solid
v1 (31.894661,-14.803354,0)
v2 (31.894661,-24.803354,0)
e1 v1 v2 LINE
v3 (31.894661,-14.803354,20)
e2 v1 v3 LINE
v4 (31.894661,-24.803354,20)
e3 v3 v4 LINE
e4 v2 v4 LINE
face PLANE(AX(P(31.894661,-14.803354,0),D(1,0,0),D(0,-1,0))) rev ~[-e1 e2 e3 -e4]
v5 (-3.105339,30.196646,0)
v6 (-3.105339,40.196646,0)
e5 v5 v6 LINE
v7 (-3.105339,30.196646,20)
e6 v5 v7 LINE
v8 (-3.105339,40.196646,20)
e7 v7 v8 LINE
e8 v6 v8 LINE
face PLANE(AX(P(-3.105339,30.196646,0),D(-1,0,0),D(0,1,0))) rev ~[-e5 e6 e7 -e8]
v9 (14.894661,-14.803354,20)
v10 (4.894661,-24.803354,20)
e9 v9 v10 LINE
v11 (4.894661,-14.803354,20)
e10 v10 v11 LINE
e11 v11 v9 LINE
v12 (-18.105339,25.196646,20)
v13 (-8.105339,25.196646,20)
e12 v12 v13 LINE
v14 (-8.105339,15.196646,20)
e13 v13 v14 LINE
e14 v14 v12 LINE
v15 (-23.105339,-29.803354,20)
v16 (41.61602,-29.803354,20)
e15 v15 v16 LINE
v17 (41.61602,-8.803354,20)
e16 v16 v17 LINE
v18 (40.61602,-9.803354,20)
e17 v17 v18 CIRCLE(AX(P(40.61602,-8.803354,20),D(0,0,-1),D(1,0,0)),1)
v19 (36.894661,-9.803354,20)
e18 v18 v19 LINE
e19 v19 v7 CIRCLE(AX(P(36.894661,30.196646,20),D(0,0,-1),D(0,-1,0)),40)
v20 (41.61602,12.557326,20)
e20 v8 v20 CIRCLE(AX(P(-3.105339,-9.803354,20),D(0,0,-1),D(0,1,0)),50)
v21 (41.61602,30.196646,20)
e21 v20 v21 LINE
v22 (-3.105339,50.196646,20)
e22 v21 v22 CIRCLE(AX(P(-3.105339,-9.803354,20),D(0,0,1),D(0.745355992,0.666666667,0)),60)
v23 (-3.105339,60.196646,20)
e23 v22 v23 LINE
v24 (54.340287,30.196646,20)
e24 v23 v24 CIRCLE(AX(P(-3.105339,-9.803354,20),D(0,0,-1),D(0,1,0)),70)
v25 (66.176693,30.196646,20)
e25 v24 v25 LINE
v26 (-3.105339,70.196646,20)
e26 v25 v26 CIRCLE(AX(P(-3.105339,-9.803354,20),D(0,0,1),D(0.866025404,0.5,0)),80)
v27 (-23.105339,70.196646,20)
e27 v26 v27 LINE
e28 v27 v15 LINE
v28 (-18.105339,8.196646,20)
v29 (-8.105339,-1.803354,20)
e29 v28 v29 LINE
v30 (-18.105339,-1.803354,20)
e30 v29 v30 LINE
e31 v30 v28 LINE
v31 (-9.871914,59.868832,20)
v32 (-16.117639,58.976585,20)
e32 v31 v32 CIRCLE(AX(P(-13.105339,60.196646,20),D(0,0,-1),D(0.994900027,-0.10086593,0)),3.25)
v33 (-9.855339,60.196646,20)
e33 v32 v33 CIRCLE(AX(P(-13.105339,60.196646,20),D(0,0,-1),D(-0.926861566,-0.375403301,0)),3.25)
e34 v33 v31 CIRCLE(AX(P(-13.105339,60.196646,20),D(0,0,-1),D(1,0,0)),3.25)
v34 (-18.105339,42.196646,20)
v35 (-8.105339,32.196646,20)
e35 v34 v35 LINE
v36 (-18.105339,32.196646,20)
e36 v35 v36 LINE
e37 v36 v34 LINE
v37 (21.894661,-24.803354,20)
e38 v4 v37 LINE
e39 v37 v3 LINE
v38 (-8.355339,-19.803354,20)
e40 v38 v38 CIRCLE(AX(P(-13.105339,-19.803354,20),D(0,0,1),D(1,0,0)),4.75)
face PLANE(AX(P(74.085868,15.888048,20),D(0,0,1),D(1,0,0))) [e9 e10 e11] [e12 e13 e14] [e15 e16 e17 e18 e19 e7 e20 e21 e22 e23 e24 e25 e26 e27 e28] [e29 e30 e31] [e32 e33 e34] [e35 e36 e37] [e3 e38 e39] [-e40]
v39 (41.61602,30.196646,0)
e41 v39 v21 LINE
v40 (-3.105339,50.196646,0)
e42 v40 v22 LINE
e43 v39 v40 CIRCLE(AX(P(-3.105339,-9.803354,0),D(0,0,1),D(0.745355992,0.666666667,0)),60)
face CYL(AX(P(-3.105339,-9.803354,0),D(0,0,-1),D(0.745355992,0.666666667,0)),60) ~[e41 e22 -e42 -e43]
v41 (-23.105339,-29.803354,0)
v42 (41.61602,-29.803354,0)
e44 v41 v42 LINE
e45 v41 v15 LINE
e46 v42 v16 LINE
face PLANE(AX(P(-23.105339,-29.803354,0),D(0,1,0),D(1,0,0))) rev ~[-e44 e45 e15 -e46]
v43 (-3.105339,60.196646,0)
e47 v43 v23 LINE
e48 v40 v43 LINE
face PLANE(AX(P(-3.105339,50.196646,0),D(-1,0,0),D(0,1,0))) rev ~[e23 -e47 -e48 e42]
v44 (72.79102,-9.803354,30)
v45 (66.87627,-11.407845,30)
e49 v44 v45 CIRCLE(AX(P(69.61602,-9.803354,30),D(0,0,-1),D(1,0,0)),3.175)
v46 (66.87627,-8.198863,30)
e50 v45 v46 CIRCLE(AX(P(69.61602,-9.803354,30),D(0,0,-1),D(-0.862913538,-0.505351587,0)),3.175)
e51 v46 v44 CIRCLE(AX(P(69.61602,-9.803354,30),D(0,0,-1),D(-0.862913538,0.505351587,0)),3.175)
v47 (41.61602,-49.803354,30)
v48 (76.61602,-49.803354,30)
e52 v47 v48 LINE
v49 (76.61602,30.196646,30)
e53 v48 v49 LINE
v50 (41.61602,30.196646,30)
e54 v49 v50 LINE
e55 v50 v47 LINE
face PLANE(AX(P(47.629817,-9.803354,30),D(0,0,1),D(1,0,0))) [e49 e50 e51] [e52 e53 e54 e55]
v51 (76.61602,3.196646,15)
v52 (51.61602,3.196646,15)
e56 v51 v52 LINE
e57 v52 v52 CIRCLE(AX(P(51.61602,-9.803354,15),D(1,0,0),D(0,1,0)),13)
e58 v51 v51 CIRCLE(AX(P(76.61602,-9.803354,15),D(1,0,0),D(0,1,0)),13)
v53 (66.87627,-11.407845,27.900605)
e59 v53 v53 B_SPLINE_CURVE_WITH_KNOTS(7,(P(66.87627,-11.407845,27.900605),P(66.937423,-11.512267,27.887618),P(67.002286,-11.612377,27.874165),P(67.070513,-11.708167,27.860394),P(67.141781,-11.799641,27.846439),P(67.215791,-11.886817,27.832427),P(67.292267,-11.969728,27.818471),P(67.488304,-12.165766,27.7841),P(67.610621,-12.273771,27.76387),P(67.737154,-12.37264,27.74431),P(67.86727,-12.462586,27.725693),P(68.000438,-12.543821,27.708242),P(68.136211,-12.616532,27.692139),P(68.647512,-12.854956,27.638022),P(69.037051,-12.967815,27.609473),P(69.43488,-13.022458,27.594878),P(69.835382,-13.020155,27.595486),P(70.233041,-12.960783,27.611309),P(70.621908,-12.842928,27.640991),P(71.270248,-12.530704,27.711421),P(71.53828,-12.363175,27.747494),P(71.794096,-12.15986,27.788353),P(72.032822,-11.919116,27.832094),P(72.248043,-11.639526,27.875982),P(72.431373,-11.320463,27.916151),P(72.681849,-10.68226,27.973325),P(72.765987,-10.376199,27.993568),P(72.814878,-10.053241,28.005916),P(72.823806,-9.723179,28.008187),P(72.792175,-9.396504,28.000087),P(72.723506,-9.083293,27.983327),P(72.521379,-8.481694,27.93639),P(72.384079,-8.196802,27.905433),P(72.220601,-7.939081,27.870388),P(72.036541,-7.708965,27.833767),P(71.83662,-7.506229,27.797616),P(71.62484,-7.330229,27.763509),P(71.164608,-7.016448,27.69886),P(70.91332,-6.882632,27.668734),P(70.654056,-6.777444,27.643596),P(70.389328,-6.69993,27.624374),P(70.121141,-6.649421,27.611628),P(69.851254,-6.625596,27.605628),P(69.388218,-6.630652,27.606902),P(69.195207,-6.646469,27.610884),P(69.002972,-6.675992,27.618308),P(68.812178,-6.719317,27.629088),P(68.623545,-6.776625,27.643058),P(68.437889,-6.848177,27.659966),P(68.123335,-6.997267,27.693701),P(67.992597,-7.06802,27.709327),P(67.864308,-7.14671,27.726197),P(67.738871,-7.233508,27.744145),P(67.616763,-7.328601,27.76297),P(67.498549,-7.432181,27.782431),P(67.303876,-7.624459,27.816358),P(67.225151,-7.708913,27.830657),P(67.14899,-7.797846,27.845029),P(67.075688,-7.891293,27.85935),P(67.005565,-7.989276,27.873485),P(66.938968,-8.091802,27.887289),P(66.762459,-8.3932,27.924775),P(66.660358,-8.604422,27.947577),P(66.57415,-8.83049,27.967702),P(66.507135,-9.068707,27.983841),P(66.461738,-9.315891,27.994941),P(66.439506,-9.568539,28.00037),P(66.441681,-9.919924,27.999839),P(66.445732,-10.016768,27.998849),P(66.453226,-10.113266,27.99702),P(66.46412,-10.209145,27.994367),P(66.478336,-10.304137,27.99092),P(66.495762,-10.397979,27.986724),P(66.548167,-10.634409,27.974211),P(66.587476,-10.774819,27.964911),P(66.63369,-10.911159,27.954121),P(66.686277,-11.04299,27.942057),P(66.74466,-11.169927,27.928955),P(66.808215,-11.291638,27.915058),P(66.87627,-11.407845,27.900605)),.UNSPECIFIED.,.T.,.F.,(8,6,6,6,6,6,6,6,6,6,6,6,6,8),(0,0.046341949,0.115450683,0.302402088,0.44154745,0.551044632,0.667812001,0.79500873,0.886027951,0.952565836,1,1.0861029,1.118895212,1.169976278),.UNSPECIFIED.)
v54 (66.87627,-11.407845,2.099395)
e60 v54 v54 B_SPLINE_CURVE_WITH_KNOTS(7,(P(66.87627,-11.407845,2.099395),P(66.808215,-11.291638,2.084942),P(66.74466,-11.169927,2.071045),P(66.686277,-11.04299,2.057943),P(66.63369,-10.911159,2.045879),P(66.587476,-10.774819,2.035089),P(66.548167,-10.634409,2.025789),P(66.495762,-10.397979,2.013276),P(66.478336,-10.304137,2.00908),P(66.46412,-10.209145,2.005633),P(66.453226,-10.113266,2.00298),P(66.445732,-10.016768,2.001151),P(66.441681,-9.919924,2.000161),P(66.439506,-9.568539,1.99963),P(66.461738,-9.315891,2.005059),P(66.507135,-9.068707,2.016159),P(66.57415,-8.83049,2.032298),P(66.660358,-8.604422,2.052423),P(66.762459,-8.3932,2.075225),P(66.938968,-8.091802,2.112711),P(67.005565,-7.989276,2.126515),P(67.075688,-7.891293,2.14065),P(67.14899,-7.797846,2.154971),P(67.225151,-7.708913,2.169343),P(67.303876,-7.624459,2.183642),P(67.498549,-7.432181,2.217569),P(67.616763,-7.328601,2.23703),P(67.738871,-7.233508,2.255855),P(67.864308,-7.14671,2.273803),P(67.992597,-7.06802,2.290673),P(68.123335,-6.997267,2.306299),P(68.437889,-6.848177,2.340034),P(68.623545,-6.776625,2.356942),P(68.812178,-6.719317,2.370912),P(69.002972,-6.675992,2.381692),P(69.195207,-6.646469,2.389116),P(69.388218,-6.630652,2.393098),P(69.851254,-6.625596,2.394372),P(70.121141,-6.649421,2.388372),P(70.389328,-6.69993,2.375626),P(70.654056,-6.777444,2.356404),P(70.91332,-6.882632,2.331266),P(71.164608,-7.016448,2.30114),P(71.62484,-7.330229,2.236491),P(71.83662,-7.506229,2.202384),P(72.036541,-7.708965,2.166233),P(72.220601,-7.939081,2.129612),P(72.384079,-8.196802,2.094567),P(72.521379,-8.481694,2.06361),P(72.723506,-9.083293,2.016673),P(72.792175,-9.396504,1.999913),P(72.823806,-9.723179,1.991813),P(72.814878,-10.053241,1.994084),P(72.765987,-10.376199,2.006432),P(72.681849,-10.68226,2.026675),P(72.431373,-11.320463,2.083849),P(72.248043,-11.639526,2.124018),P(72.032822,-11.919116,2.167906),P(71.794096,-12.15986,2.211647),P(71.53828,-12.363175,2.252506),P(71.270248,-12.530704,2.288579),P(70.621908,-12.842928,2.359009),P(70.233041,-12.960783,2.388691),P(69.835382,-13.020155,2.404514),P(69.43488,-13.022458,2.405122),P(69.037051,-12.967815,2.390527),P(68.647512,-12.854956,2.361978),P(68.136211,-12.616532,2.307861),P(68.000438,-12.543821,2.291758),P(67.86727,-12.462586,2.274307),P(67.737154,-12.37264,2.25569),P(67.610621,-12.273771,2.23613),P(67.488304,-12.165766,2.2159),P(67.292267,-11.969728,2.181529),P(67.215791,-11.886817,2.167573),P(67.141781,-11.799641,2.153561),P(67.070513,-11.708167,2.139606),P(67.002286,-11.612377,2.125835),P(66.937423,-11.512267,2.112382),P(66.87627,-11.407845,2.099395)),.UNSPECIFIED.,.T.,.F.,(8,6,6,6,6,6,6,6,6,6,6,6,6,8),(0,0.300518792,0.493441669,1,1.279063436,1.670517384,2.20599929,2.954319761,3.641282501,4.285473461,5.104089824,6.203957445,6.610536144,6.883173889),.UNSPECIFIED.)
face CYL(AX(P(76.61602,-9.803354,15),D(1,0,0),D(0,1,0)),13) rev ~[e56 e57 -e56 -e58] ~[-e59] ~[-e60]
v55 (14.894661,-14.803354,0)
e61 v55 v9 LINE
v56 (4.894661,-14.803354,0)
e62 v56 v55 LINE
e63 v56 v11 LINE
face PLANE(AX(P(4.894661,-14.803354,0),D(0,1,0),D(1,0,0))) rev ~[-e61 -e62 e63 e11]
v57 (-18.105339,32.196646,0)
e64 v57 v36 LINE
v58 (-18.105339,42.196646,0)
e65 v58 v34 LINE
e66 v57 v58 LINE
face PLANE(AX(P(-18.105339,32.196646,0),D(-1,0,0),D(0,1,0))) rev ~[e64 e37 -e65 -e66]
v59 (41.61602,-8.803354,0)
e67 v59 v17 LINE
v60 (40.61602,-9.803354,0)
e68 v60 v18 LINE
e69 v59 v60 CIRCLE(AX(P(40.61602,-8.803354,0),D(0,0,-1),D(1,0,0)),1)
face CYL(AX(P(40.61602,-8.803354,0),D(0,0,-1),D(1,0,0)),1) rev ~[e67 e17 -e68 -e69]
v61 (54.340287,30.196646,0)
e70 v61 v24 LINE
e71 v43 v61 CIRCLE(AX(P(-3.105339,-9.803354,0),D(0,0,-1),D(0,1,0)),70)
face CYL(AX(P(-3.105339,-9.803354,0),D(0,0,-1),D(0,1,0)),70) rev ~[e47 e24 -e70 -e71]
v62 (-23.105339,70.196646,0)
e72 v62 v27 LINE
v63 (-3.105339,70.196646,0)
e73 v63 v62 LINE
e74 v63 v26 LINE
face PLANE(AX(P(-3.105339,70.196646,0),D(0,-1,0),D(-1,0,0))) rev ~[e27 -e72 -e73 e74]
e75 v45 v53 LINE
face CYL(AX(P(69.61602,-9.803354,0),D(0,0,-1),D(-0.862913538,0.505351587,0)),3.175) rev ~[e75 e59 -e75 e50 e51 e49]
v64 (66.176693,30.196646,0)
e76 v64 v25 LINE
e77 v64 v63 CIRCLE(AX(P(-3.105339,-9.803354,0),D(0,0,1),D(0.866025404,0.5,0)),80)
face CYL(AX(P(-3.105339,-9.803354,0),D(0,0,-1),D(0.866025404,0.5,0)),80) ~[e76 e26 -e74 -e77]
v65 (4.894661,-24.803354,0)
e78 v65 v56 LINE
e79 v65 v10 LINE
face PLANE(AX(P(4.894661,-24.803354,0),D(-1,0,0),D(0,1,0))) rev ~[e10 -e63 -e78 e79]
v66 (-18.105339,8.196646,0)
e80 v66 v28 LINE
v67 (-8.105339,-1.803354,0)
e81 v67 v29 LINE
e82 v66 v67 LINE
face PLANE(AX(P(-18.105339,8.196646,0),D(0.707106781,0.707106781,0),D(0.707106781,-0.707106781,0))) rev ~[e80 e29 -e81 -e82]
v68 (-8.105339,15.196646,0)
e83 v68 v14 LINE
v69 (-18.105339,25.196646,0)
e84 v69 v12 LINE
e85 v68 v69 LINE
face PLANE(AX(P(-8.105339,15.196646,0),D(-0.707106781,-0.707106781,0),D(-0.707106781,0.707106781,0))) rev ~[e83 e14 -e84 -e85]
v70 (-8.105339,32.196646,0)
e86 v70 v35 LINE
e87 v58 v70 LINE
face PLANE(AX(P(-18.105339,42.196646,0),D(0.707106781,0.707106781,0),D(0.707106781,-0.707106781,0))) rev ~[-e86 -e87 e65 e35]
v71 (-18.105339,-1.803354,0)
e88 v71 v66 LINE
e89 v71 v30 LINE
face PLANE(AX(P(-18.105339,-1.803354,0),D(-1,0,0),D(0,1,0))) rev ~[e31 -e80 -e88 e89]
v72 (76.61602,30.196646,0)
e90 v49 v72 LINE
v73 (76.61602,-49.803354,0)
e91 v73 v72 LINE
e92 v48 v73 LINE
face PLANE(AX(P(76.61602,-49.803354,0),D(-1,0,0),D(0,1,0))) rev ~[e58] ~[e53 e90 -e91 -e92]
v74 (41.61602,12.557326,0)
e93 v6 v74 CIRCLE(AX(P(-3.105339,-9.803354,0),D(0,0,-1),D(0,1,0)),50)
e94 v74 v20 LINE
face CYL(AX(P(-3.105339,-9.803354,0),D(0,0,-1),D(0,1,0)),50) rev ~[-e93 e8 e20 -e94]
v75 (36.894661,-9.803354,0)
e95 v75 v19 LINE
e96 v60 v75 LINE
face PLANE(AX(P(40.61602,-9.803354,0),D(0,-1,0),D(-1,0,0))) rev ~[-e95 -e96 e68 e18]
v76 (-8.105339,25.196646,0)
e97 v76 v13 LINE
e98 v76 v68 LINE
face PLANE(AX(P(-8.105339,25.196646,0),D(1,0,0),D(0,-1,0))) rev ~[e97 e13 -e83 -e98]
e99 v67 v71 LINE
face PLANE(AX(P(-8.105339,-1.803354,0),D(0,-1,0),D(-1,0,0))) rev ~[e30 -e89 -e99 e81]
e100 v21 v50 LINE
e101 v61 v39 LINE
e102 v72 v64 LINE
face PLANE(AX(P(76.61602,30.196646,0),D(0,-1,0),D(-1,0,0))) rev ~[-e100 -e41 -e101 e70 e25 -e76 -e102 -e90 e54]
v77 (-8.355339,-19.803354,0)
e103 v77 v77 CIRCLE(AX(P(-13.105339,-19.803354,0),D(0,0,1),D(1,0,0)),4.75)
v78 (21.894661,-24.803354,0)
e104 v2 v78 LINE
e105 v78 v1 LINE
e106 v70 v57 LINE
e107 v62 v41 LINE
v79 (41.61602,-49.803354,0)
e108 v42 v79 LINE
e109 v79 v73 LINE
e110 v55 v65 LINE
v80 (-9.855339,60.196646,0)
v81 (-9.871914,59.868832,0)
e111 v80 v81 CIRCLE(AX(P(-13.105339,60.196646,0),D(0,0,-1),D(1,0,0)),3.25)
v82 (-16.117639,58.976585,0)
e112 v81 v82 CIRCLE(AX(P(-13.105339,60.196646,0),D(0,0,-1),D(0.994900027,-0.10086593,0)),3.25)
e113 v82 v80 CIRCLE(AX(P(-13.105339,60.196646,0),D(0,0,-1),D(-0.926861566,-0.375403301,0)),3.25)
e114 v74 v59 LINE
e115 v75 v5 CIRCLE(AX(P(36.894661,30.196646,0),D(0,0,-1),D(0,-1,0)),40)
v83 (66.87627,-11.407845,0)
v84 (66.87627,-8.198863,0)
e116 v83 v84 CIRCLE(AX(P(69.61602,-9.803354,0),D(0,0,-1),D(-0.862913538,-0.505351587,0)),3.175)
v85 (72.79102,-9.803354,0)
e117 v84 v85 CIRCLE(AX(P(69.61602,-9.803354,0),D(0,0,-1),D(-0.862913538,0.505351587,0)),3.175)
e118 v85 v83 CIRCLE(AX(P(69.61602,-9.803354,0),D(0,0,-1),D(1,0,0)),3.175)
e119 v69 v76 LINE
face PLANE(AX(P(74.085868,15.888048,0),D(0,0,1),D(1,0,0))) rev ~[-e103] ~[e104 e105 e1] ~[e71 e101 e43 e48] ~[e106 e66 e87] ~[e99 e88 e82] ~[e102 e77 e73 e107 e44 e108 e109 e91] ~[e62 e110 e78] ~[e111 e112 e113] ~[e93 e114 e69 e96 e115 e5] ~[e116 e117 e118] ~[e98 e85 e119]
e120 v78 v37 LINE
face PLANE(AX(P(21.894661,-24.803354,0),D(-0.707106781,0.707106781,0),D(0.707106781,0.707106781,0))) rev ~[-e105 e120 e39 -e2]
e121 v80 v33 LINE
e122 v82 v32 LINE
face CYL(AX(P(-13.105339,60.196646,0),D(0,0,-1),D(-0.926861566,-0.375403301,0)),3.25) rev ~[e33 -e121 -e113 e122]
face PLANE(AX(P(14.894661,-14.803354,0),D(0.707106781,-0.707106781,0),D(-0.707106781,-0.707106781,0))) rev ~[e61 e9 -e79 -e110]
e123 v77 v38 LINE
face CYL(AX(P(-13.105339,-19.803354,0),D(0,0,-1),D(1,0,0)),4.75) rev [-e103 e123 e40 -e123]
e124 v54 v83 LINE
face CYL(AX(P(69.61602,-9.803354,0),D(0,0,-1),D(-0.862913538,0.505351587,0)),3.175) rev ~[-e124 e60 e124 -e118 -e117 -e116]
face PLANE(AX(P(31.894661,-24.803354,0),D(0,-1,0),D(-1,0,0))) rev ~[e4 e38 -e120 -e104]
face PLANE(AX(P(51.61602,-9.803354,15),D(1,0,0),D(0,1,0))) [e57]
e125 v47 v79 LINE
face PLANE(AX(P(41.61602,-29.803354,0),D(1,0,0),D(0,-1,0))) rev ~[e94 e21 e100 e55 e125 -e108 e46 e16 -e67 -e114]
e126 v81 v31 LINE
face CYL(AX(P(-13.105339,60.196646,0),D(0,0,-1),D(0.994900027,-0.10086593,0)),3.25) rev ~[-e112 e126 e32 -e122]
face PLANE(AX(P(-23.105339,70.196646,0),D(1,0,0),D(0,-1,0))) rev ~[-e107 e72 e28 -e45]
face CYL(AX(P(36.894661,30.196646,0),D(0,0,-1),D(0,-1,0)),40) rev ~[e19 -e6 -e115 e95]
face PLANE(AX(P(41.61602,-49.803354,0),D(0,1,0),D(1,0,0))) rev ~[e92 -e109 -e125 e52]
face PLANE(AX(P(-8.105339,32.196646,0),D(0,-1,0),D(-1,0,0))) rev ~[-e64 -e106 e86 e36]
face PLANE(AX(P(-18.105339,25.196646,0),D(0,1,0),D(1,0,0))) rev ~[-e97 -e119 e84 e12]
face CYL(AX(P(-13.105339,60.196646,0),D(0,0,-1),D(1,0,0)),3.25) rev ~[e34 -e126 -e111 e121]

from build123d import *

# Parameters (mm, degrees)
F0_R     = 4.75
F1_DEPTH = 20
F2_DEPTH = 30
F3_R     = 13
F4_DEPTH = 25


with BuildPart() as f1:
    # F0 (on Top) → F1 (new body)
    with BuildSketch(Plane.XY):
        with BuildLine():
            Line((76.6160202911, 30.1966461055), (66.1766930438, 30.1966461055))
            ThreePointArc((66.1766930438, 30.1966461055), (73.2373422542, 14.1088810364), (76.6160202911, -3.132159736))
            Line((76.6160202911, -3.132159736), (76.6160202911, 30.1966461055))
        make_face()
        with BuildLine():
            ThreePointArc((76.6160202911, -3.132159736), (73.2373422542, 14.1088810364), (66.1766930438, 30.1966461055))
            Line((66.1766930438, 30.1966461055), (54.3402872065, 30.1966461055))
            ThreePointArc((54.3402872065, 30.1966461055), (63.4377209443, 11.9226935784), (66.8762698088, -8.198862606))
            ThreePointArc((66.8762698088, -8.198862606), (70.4472594921, -6.7390976404), (72.7910202911, -9.8033538945))
            ThreePointArc((72.7910202911, -9.8033538945), (70.4472594921, -12.8676101486), (66.8762698088, -11.407845183))
            ThreePointArc((66.8762698088, -11.407845183), (63.4377209443, -31.5294013674), (54.3402872065, -49.8033538945))
            Line((54.3402872065, -49.8033538945), (66.1766930438, -49.8033538945))
            ThreePointArc((66.1766930438, -49.8033538945), (73.2373422542, -33.7155888254), (76.6160202911, -16.474548053))
            Line((76.6160202911, -16.474548053), (76.6160202911, -3.132159736))
        make_face()
        with BuildLine():
            ThreePointArc((66.8762698088, -8.198862606), (63.4377209443, 11.9226935784), (54.3402872065, 30.1966461055))
            Line((54.3402872065, 30.1966461055), (41.6160202911, 30.1966461055))
            ThreePointArc((41.6160202911, 30.1966461055), (52.9450022789, 11.6059714919), (56.8946607411, -9.8033538945))
            ThreePointArc((56.8946607411, -9.8033538945), (52.9450022789, -31.2126792809), (41.6160202911, -49.8033538945))
            Line((41.6160202911, -49.8033538945), (54.3402872065, -49.8033538945))
            ThreePointArc((54.3402872065, -49.8033538945), (63.4377209443, -31.5294013674), (66.8762698088, -11.407845183))
            ThreePointArc((66.8762698088, -11.407845183), (66.4410202911, -9.8033538945), (66.8762698088, -8.198862606))
        make_face()
        with BuildLine():
            ThreePointArc((76.6160202911, -16.474548053), (73.2373422542, -33.7155888254), (66.1766930438, -49.8033538945))
            Line((66.1766930438, -49.8033538945), (76.6160202911, -49.8033538945))
            Line((76.6160202911, -49.8033538945), (76.6160202911, -16.474548053))
        make_face()
        with BuildLine():
            ThreePointArc((56.8946607411, -9.8033538945), (52.9450022789, 11.6059714919), (41.6160202911, 30.1966461055))
            Line((41.6160202911, 30.1966461055), (41.6160202911, 12.5573258805))
            ThreePointArc((41.6160202911, 12.5573258805), (45.5571102145, 1.6842921329), (46.8946607411, -9.8033538945))
            ThreePointArc((46.8946607411, -9.8033538945), (45.5571102145, -21.2909999219), (41.6160202911, -32.1640336695))
            Line((41.6160202911, -32.1640336695), (41.6160202911, -49.8033538945))
            ThreePointArc((41.6160202911, -49.8033538945), (52.9450022789, -31.2126792809), (56.8946607411, -9.8033538945))
        make_face()
        with BuildLine():
            ThreePointArc((46.8946607411, -9.8033538945), (45.5571102145, 1.6842921329), (41.6160202911, 12.5573258805))
            Line((41.6160202911, 12.5573258805), (41.6160202911, -8.8033538945))
            Line((41.6160202911, -8.8033538945), (41.6160202911, -29.8033538945))
            Line((41.6160202911, -29.8033538945), (41.6160202911, -30.8033538945))
            Line((41.6160202911, -30.8033538945), (41.6160202911, -32.1640336695))
            ThreePointArc((41.6160202911, -32.1640336695), (45.5571102145, -21.2909999219), (46.8946607411, -9.8033538945))
        make_face()
        with BuildLine():
            Line((-3.1053392589, 30.1966461055), (-3.1053392589, 40.1966461055))
            ThreePointArc((-3.1053392589, 40.1966461055), (-8.9600600243, 39.8526854639), (-14.7342290493, 38.8255358959))
            Line((-14.7342290493, 38.8255358959), (-8.1053392589, 32.1966461055))
            Line((-8.1053392589, 32.1966461055), (-18.1053392589, 32.1966461055))
            Line((-18.1053392589, 32.1966461055), (-18.1053392589, 37.8936061763))
            ThreePointArc((-18.1053392589, 37.8936061763), (-20.630331421, 37.0247856128), (-23.1053392589, 36.0224030551))
            Line((-23.1053392589, 36.0224030551), (-23.1053392589, -29.8033538945))
            Line((-23.1053392589, -29.8033538945), (-3.1053392589, -29.8033538945))
            Line((-3.1053392589, -29.8033538945), (40.6160202911, -29.8033538945))
            Line((40.6160202911, -29.8033538945), (41.6160202911, -29.8033538945))
            Line((41.6160202911, -29.8033538945), (41.6160202911, -8.8033538945))
            ThreePointArc((41.6160202911, -8.8033538945), (41.3231270723, -9.5104606757), (40.6160202911, -9.8033538945))
            Line((40.6160202911, -9.8033538945), (36.8946607411, -9.8033538945))
            ThreePointArc((36.8946607411, -9.8033538945), (8.6103894936, 1.912374858), (-3.1053392589, 30.1966461055))
        make_face()
        with Locations((-13.1053392589, -19.8033538945)):
            Circle(F0_R, mode=Mode.SUBTRACT)
        Polygon((4.8946607411, -14.8033538945), (14.8946607411, -14.8033538945), (4.8946607411, -24.8033538945), align=None, mode=Mode.SUBTRACT)
        Polygon((31.8946607411, -24.8033538945), (21.8946607411, -24.8033538945), (31.8946607411, -14.8033538945), align=None, mode=Mode.SUBTRACT)
        Polygon((-18.1053392589, -1.8033538945), (-18.1053392589, 8.1966461055), (-8.1053392589, -1.8033538945), align=None, mode=Mode.SUBTRACT)
        Polygon((-8.1053392589, 25.1966461055), (-8.1053392589, 15.1966461055), (-18.1053392589, 25.1966461055), align=None, mode=Mode.SUBTRACT)
        with BuildLine():
            Line((-3.1053392589, 40.1966461055), (-3.1053392589, 50.1966461055))
            ThreePointArc((-3.1053392589, 50.1966461055), (-13.2514579825, 49.3325596847), (-23.1053392589, 46.7651886004))
            Line((-23.1053392589, 46.7651886004), (-23.1053392589, 36.0224030551))
            ThreePointArc((-23.1053392589, 36.0224030551), (-20.630331421, 37.0247856128), (-18.1053392589, 37.8936061763))
            Line((-18.1053392589, 37.8936061763), (-18.1053392589, 42.1966461055))
            Line((-18.1053392589, 42.1966461055), (-14.7342290493, 38.8255358959))
            ThreePointArc((-14.7342290493, 38.8255358959), (-8.9600600243, 39.8526854639), (-3.1053392589, 40.1966461055))
        make_face()
        with BuildLine():
            Line((-3.1053392589, 50.1966461055), (-3.1053392589, 60.1966461055))
            ThreePointArc((-3.1053392589, 60.1966461055), (-6.4925947199, 60.1146445068), (-9.8719141705, 59.8688318324))
            ThreePointArc((-9.8719141705, 59.8688318324), (-12.6457198511, 56.9793102511), (-16.1176393473, 58.9765853786))
            ThreePointArc((-16.1176393473, 58.9765853786), (-19.6333066276, 58.2174245093), (-23.1053392589, 57.2786854305))
            Line((-23.1053392589, 57.2786854305), (-23.1053392589, 46.7651886004))
            ThreePointArc((-23.1053392589, 46.7651886004), (-13.2514579825, 49.3325596847), (-3.1053392589, 50.1966461055))
        make_face()
        with BuildLine():
            Line((-3.1053392589, 60.1966461055), (-3.1053392589, 70.1966461055))
            ThreePointArc((-3.1053392589, 70.1966461055), (-13.1856826575, 69.5590218069), (-23.1053392589, 67.6563130296))
            Line((-23.1053392589, 67.6563130296), (-23.1053392589, 57.2786854305))
            ThreePointArc((-23.1053392589, 57.2786854305), (-19.6333066276, 58.2174245093), (-16.1176393473, 58.9765853786))
            ThreePointArc((-16.1176393473, 58.9765853786), (-13.7268393445, 63.3866676797), (-9.8553392589, 60.1966461055))
            ThreePointArc((-9.8553392589, 60.1966461055), (-9.8594856318, 60.0325295879), (-9.8719141705, 59.8688318324))
            ThreePointArc((-9.8719141705, 59.8688318324), (-6.4925947199, 60.1146445068), (-3.1053392589, 60.1966461055))
        make_face()
        with BuildLine():
            ThreePointArc((-23.1053392589, 67.6563130296), (-13.1856826575, 69.5590218069), (-3.1053392589, 70.1966461055))
            Line((-3.1053392589, 70.1966461055), (-23.1053392589, 70.1966461055))
            Line((-23.1053392589, 70.1966461055), (-23.1053392589, 67.6563130296))
        make_face()
        with BuildLine():
            ThreePointArc((66.1766930438, 30.1966461055), (36.8946607411, 59.4786784083), (-3.1053392589, 70.1966461055))
            Line((-3.1053392589, 70.1966461055), (-3.1053392589, 60.1966461055))
            ThreePointArc((-3.1053392589, 60.1966461055), (29.2983642331, 52.2450143355), (54.3402872065, 30.1966461055))
            Line((54.3402872065, 30.1966461055), (66.1766930438, 30.1966461055))
        make_face()
        with BuildLine():
            ThreePointArc((41.6160202911, 30.1966461055), (21.3895581689, 44.968901856), (-3.1053392589, 50.1966461055))
            Line((-3.1053392589, 50.1966461055), (-3.1053392589, 40.1966461055))
            ThreePointArc((-3.1053392589, 40.1966461055), (23.181216347, 32.7291865231), (41.6160202911, 12.5573258805))
            Line((41.6160202911, 12.5573258805), (41.6160202911, 30.1966461055))
        make_face()
    extrude(amount=F1_DEPTH)

    # F0 (on Top) → F2 (join)
    with BuildSketch(Plane.XY):
        with BuildLine():
            ThreePointArc((56.8946607411, -9.8033538945), (52.9450022789, 11.6059714919), (41.6160202911, 30.1966461055))
            Line((41.6160202911, 30.1966461055), (41.6160202911, 12.5573258805))
            ThreePointArc((41.6160202911, 12.5573258805), (45.5571102145, 1.6842921329), (46.8946607411, -9.8033538945))
            ThreePointArc((46.8946607411, -9.8033538945), (45.5571102145, -21.2909999219), (41.6160202911, -32.1640336695))
            Line((41.6160202911, -32.1640336695), (41.6160202911, -49.8033538945))
            ThreePointArc((41.6160202911, -49.8033538945), (52.9450022789, -31.2126792809), (56.8946607411, -9.8033538945))
        make_face()
        with BuildLine():
            ThreePointArc((66.8762698088, -8.198862606), (63.4377209443, 11.9226935784), (54.3402872065, 30.1966461055))
            Line((54.3402872065, 30.1966461055), (41.6160202911, 30.1966461055))
            ThreePointArc((41.6160202911, 30.1966461055), (52.9450022789, 11.6059714919), (56.8946607411, -9.8033538945))
            ThreePointArc((56.8946607411, -9.8033538945), (52.9450022789, -31.2126792809), (41.6160202911, -49.8033538945))
            Line((41.6160202911, -49.8033538945), (54.3402872065, -49.8033538945))
            ThreePointArc((54.3402872065, -49.8033538945), (63.4377209443, -31.5294013674), (66.8762698088, -11.407845183))
            ThreePointArc((66.8762698088, -11.407845183), (66.4410202911, -9.8033538945), (66.8762698088, -8.198862606))
        make_face()
        with BuildLine():
            ThreePointArc((76.6160202911, -3.132159736), (73.2373422542, 14.1088810364), (66.1766930438, 30.1966461055))
            Line((66.1766930438, 30.1966461055), (54.3402872065, 30.1966461055))
            ThreePointArc((54.3402872065, 30.1966461055), (63.4377209443, 11.9226935784), (66.8762698088, -8.198862606))
            ThreePointArc((66.8762698088, -8.198862606), (70.4472594921, -6.7390976404), (72.7910202911, -9.8033538945))
            ThreePointArc((72.7910202911, -9.8033538945), (70.4472594921, -12.8676101486), (66.8762698088, -11.407845183))
            ThreePointArc((66.8762698088, -11.407845183), (63.4377209443, -31.5294013674), (54.3402872065, -49.8033538945))
            Line((54.3402872065, -49.8033538945), (66.1766930438, -49.8033538945))
            ThreePointArc((66.1766930438, -49.8033538945), (73.2373422542, -33.7155888254), (76.6160202911, -16.474548053))
            Line((76.6160202911, -16.474548053), (76.6160202911, -3.132159736))
        make_face()
        with BuildLine():
            ThreePointArc((76.6160202911, -16.474548053), (73.2373422542, -33.7155888254), (66.1766930438, -49.8033538945))
            Line((66.1766930438, -49.8033538945), (76.6160202911, -49.8033538945))
            Line((76.6160202911, -49.8033538945), (76.6160202911, -16.474548053))
        make_face()
        with BuildLine():
            Line((76.6160202911, 30.1966461055), (66.1766930438, 30.1966461055))
            ThreePointArc((66.1766930438, 30.1966461055), (73.2373422542, 14.1088810364), (76.6160202911, -3.132159736))
            Line((76.6160202911, -3.132159736), (76.6160202911, 30.1966461055))
        make_face()
        with BuildLine():
            ThreePointArc((46.8946607411, -9.8033538945), (45.5571102145, 1.6842921329), (41.6160202911, 12.5573258805))
            Line((41.6160202911, 12.5573258805), (41.6160202911, -8.8033538945))
            Line((41.6160202911, -8.8033538945), (41.6160202911, -29.8033538945))
            Line((41.6160202911, -29.8033538945), (41.6160202911, -30.8033538945))
            Line((41.6160202911, -30.8033538945), (41.6160202911, -32.1640336695))
            ThreePointArc((41.6160202911, -32.1640336695), (45.5571102145, -21.2909999219), (46.8946607411, -9.8033538945))
        make_face()
    extrude(amount=F2_DEPTH)

    # F3 (on face) → F4 (cut)
    with BuildSketch(Plane.YZ.offset(76.6160202911)):
        with Locations((-9.8033538945, 15)):
            Circle(F3_R)
    extrude(amount=-F4_DEPTH, mode=Mode.SUBTRACT)


solid = f1.part
